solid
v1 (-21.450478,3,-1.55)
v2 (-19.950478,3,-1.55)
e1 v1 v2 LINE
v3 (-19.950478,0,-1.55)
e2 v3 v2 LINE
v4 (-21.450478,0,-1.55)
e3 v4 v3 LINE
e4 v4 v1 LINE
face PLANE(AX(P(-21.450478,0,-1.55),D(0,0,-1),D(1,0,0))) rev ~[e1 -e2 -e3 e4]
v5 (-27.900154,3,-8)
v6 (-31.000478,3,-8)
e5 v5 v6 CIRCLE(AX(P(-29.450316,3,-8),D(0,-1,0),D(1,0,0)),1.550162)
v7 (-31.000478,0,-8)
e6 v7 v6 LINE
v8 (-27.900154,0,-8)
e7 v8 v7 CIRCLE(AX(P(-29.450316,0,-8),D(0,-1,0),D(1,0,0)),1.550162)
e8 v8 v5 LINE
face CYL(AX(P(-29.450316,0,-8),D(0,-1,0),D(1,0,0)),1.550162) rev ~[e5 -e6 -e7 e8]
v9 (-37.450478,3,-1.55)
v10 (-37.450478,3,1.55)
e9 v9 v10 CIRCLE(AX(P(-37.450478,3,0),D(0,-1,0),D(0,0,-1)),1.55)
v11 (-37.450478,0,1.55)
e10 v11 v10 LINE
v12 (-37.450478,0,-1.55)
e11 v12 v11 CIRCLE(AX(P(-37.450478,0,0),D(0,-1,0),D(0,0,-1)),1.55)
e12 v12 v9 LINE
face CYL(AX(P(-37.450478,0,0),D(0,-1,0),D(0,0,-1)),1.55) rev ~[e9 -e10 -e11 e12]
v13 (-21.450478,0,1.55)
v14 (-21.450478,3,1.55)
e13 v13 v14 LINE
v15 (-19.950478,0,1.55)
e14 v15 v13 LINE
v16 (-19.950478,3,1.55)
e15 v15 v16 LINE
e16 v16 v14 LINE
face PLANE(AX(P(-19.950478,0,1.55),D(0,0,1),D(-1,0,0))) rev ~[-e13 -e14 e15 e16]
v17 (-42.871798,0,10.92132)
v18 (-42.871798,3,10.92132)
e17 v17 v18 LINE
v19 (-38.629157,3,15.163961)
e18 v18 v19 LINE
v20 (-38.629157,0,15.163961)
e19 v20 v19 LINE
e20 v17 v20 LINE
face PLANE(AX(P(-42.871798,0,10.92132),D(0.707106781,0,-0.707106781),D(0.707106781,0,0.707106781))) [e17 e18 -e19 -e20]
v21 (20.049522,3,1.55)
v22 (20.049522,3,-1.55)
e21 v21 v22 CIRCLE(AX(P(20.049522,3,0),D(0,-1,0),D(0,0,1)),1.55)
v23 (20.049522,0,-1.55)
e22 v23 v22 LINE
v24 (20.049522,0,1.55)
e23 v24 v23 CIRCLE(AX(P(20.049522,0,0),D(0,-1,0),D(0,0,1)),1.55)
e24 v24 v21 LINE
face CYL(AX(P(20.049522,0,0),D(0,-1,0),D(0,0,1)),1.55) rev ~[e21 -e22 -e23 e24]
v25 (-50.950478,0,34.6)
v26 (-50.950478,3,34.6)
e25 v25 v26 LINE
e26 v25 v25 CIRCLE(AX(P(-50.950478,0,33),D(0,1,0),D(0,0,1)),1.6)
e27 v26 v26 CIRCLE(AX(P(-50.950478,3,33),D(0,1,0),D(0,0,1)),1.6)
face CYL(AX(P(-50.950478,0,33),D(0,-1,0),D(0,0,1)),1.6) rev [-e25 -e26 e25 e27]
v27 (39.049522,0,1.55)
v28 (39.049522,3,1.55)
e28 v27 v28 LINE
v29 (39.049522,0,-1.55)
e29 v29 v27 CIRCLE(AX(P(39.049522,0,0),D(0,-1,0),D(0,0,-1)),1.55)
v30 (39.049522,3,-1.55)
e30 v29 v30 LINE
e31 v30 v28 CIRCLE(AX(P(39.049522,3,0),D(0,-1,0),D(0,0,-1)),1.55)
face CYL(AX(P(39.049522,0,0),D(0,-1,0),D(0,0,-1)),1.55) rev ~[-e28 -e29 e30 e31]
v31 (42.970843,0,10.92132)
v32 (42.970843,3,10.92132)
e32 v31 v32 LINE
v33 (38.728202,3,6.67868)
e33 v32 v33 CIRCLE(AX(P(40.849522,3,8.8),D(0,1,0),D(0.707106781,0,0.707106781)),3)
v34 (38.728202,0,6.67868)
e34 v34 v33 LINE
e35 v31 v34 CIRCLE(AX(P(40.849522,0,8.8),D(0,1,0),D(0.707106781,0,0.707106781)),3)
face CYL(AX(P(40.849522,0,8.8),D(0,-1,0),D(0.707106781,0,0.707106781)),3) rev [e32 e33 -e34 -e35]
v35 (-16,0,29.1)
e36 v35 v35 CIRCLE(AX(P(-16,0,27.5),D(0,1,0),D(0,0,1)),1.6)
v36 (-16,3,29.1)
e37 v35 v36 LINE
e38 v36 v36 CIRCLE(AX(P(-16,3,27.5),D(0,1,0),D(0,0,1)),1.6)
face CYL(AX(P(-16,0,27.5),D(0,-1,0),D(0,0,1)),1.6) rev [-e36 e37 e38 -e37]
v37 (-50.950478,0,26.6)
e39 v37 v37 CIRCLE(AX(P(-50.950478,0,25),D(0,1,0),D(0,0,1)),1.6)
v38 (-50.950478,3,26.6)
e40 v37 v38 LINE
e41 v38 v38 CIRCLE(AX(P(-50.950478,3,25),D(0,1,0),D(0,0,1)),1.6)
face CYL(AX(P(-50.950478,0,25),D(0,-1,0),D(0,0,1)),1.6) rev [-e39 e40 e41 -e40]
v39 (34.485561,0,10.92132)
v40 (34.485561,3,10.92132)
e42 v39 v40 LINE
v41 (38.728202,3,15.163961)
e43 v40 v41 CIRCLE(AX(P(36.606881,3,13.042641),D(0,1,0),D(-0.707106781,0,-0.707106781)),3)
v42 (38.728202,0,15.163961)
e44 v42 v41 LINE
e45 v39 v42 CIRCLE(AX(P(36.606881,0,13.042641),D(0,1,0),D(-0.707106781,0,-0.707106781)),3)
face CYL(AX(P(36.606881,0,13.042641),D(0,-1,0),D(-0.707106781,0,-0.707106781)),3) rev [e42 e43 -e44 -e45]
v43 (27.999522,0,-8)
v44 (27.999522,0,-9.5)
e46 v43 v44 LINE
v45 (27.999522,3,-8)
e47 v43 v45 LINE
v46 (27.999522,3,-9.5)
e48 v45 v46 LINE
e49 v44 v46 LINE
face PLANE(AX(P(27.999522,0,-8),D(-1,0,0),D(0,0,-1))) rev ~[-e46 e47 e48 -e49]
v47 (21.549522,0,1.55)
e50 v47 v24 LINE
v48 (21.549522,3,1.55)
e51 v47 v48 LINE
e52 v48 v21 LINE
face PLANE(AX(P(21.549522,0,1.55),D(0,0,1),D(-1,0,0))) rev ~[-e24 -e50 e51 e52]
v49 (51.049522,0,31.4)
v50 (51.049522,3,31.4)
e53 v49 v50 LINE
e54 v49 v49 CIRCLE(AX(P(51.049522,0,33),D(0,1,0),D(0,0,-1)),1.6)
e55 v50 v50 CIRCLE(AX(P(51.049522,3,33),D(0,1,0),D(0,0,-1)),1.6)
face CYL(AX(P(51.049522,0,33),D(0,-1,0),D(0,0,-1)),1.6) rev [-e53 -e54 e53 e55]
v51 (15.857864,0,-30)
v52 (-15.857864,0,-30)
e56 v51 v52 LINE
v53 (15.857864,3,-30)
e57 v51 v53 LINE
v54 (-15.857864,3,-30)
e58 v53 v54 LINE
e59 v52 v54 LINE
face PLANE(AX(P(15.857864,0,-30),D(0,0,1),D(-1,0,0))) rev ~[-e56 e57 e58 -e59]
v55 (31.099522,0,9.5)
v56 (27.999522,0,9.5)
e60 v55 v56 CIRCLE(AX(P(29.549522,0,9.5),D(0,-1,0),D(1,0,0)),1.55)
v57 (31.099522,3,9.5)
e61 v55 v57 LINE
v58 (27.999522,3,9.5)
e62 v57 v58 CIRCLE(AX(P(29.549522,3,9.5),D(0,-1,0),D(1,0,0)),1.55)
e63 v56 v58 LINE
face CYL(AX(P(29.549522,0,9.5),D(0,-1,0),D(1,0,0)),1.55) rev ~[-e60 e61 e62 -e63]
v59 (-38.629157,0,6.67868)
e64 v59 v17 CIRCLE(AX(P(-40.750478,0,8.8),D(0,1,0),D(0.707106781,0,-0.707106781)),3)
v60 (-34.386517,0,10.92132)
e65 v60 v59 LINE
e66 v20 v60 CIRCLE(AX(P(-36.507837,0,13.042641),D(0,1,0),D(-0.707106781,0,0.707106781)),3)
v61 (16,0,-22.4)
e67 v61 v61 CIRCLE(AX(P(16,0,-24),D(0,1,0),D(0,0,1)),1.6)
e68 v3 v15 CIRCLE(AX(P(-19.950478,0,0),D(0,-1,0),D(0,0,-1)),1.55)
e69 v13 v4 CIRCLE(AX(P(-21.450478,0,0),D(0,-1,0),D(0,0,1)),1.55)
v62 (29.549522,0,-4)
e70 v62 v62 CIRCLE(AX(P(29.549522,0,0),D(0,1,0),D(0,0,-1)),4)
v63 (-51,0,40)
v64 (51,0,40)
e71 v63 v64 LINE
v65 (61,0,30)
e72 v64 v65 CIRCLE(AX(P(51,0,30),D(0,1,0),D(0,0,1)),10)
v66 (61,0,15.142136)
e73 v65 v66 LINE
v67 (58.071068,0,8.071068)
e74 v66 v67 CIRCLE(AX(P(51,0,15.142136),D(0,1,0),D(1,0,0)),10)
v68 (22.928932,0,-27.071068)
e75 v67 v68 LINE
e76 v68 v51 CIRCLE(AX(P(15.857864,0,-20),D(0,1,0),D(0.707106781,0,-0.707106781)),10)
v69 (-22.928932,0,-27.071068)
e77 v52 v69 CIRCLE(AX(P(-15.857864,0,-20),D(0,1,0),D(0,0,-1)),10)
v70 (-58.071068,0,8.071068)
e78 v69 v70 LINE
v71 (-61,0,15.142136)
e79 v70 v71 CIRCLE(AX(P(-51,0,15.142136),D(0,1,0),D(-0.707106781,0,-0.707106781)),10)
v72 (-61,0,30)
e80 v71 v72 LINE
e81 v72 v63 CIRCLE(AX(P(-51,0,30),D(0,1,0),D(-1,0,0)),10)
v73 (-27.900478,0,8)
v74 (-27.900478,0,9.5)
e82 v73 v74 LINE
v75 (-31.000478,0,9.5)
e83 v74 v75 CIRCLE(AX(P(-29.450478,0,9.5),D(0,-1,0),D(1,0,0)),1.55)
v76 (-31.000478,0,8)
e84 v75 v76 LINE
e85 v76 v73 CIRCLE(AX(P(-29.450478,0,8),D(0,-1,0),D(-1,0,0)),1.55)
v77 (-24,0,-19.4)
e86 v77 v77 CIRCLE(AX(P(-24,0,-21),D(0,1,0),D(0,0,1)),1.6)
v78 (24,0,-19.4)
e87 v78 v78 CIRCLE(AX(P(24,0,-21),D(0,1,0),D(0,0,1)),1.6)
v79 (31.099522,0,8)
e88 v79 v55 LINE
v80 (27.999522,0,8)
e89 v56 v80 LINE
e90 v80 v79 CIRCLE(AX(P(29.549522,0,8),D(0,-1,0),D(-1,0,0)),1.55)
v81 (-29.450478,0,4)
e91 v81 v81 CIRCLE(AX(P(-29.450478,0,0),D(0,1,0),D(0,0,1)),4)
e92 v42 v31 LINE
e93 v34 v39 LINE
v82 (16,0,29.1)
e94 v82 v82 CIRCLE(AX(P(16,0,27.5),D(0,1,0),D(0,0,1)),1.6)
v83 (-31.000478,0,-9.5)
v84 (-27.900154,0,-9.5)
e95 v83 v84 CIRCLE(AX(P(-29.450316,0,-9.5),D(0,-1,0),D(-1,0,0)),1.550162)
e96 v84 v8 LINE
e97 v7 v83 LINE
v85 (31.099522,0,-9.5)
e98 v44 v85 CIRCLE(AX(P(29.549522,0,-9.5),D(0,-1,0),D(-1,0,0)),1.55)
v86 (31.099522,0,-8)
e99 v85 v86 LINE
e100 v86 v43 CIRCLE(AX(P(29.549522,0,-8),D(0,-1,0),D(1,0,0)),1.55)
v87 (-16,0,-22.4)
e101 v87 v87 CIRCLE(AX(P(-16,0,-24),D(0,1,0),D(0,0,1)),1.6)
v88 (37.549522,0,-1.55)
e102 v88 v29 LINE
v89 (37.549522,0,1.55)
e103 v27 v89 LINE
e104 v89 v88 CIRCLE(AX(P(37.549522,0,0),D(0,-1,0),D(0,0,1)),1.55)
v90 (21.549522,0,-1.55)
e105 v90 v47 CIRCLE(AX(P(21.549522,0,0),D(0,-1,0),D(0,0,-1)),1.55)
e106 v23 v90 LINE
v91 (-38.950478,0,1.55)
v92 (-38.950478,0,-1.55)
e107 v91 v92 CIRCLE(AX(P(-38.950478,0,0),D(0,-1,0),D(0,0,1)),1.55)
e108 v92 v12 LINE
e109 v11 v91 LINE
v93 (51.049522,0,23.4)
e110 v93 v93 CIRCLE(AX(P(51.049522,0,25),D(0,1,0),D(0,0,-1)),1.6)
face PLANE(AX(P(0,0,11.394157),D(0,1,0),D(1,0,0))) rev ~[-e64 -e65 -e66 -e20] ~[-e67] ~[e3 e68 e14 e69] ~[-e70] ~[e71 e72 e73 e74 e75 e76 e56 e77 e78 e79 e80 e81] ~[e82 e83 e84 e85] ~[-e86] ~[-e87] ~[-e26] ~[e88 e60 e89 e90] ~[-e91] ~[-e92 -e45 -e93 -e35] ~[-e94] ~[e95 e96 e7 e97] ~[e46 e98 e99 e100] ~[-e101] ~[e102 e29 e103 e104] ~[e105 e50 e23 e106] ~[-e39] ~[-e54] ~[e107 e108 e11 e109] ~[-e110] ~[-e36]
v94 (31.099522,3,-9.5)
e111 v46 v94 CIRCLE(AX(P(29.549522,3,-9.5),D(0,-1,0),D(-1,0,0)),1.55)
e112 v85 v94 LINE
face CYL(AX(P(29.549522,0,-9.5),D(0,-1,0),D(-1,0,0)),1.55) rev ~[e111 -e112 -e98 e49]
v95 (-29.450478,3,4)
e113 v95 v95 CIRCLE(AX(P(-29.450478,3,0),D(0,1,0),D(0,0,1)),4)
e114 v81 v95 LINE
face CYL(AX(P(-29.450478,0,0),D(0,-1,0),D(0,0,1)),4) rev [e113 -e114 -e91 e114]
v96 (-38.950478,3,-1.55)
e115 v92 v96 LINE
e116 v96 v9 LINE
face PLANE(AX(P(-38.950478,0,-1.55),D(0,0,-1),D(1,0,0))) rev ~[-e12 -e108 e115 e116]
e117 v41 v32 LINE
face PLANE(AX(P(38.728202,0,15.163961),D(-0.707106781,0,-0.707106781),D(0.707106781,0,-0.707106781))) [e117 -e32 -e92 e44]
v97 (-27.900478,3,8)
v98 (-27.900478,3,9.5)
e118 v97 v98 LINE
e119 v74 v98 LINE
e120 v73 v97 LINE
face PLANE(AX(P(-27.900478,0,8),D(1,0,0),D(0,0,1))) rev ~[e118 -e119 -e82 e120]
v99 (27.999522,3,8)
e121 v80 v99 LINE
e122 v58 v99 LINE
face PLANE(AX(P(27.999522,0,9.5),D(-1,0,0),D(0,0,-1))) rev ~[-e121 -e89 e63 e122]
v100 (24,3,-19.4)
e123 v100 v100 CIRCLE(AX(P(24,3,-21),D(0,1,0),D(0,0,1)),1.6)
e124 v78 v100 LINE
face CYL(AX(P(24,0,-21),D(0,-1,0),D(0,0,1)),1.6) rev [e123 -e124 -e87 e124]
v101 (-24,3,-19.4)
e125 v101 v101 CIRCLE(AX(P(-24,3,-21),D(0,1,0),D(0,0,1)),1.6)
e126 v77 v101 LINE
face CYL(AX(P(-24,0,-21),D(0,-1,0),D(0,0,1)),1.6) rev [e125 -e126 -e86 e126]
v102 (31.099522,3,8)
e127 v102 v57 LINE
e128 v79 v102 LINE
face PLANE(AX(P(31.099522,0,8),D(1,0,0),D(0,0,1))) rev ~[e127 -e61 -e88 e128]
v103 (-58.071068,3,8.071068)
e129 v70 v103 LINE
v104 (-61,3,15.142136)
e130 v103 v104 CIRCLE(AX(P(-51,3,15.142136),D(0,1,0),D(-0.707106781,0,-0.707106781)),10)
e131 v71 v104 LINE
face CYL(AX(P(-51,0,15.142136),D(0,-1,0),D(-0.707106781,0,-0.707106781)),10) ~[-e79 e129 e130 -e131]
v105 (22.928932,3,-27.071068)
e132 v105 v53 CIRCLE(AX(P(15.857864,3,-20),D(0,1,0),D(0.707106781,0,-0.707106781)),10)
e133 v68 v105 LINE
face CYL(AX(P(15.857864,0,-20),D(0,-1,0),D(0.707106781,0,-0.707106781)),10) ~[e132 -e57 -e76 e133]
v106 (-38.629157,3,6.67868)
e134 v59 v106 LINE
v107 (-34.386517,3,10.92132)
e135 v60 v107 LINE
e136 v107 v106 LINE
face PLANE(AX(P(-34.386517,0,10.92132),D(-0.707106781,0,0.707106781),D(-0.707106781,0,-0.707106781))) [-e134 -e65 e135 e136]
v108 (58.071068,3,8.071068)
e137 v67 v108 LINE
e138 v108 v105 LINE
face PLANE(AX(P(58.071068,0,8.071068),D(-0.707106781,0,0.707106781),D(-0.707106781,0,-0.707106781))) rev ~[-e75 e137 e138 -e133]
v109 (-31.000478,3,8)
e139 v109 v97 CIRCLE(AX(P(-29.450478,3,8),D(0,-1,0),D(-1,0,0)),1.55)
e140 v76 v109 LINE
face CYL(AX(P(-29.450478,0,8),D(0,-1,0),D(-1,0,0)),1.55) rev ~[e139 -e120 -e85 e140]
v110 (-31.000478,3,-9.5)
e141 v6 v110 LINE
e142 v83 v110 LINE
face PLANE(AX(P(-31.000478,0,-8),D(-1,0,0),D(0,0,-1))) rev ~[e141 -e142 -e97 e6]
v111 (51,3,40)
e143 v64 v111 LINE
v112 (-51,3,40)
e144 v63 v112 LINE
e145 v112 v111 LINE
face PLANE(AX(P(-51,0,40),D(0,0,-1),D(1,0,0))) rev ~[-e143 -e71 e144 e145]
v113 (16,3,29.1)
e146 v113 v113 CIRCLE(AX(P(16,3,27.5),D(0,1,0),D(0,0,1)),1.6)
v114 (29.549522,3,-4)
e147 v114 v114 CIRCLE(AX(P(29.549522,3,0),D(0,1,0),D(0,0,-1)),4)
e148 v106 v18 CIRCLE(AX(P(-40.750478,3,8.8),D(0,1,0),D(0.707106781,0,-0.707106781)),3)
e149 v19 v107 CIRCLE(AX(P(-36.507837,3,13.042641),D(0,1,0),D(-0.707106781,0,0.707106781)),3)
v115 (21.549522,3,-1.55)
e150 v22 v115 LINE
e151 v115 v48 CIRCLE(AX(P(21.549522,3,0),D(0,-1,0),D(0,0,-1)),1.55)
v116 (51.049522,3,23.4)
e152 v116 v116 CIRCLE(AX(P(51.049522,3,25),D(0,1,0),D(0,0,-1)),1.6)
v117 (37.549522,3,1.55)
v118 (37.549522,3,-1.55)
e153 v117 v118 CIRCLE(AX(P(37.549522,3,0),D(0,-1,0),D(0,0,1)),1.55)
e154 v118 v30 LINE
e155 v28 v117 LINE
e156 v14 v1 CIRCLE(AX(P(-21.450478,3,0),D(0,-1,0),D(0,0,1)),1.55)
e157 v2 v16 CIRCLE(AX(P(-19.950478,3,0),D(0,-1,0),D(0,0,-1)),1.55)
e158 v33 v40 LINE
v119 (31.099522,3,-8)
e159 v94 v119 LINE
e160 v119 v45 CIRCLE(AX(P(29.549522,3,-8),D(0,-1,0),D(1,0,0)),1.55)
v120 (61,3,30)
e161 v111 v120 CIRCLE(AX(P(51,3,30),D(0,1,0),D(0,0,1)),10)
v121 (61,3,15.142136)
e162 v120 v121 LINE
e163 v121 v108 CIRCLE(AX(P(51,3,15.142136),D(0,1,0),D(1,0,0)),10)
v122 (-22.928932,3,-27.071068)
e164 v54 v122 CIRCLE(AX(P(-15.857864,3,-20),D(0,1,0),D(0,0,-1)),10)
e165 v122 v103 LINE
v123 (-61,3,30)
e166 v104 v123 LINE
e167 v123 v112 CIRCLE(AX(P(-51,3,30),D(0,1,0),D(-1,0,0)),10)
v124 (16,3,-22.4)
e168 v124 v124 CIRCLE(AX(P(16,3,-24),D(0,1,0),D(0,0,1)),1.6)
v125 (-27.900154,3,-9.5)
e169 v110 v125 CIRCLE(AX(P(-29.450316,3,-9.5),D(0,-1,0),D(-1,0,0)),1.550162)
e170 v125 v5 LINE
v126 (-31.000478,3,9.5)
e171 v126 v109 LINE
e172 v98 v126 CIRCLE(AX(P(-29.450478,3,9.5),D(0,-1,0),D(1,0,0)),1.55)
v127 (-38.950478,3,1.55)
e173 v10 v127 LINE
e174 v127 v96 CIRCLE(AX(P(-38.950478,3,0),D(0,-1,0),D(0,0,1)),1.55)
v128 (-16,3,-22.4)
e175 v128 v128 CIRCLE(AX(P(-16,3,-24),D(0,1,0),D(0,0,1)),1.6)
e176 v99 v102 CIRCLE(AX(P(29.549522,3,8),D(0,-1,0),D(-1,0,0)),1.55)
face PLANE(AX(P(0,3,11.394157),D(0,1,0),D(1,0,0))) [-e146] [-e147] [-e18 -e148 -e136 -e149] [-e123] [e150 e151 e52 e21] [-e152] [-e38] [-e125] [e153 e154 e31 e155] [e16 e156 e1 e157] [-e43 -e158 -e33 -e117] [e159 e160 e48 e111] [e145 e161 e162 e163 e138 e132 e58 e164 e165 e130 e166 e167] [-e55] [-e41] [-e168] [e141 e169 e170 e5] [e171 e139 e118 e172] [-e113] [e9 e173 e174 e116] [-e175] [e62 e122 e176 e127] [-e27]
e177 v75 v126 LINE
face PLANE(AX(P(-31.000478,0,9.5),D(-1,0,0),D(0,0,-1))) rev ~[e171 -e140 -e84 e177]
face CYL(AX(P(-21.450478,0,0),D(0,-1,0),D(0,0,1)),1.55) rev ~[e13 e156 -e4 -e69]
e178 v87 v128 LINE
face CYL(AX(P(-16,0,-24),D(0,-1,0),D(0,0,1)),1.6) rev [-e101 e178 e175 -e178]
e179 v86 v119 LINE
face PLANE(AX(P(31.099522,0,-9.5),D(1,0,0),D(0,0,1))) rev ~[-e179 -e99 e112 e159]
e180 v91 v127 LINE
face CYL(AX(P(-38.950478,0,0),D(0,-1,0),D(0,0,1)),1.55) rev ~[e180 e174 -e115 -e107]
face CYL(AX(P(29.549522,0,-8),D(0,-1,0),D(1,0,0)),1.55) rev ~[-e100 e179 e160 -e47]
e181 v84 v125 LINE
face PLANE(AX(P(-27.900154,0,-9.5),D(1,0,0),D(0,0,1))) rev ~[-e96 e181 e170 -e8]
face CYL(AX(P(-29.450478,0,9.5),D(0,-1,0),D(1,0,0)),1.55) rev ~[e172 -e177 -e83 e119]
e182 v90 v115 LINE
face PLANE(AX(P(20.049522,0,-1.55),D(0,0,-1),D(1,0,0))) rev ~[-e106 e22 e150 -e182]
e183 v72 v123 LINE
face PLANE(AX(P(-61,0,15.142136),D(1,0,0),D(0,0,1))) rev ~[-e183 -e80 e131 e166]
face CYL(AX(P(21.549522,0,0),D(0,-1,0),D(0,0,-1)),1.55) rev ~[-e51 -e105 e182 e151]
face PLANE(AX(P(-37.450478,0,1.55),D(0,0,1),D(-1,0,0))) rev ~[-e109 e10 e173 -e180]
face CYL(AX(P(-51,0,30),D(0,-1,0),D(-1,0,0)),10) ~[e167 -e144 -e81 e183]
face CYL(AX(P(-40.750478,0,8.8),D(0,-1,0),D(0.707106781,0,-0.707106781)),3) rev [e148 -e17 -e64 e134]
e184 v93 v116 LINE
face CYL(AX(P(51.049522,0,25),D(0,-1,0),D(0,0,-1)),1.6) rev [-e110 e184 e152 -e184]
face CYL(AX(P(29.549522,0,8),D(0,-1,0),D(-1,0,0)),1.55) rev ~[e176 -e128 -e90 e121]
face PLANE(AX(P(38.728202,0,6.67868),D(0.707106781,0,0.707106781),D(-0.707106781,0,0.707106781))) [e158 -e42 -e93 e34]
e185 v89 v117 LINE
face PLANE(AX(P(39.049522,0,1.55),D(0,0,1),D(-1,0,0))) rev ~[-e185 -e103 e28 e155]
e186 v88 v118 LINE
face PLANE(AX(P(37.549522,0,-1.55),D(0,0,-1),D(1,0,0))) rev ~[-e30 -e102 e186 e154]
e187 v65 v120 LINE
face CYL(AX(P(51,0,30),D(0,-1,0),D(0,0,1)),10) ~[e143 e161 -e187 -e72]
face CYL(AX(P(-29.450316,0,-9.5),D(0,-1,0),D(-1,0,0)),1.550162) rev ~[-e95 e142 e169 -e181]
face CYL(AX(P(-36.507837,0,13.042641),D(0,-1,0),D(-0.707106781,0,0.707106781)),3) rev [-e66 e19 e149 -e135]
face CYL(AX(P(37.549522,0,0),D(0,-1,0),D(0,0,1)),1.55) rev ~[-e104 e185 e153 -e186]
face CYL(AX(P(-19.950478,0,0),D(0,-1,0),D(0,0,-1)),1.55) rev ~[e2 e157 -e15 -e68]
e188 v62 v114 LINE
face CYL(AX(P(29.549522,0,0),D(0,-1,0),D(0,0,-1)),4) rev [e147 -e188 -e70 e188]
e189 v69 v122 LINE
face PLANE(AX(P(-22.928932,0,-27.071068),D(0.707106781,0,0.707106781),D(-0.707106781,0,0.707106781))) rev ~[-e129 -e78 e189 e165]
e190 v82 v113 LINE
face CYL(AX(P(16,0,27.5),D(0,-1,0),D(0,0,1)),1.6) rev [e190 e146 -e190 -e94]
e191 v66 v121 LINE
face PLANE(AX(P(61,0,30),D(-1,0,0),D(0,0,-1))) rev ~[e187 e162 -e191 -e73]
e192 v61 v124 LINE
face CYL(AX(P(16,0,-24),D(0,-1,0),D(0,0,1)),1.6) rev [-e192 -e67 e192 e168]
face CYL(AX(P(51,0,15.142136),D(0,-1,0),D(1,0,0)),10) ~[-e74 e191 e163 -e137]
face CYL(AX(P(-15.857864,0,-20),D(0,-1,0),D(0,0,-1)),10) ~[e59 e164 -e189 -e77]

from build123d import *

# Parameters (mm, degrees)
EXTRUDE_1_DEPTH     = 3
SKETCH_2_R          = 1.6
SKETCH_2_R_2        = 4
CUT_EXTRUDE_1_DEPTH = 3


with BuildPart() as part:
    # 草图1 → 凸台-拉伸1 (new body)
    with BuildSketch(Plane(origin=(0, 0, 0), x_dir=(1, 0, 0), z_dir=(0, 1, 0))):
        with BuildLine():
            Line((0, 30), (-15.857864376, 30))
            ThreePointArc((-15.857864376, 30), (-19.6846987, 29.238795325), (-22.928932188, 27.071067812))
            Line((-22.928932188, 27.071067812), (-58.071067812, -8.071067812))
            ThreePointArc((-58.071067812, -8.071067812), (-60.238795325, -11.3153013), (-61, -15.142135624))
            Line((-61, -15.142135624), (-61, -30.000000004))
            ThreePointArc((-61, -30.000000004), (-58.071067812, -37.071067816), (-51, -40.000000004))
            Line((-51, -40.000000004), (-36, -40.000000004))
            Line((-36, -40.000000004), (36, -40.000000004))
            Line((36, -40.000000004), (51, -40.000000004))
            ThreePointArc((51, -40.000000004), (58.071067812, -37.071067816), (61, -30.000000004))
            Line((61, -30.000000004), (61, -15.142135624))
            ThreePointArc((61, -15.142135624), (60.238795325, -11.3153013), (58.071067812, -8.071067812))
            Line((58.071067812, -8.071067812), (22.928932188, 27.071067812))
            ThreePointArc((22.928932188, 27.071067812), (19.6846987, 29.238795325), (15.857864376, 30))
            Line((15.857864376, 30), (0, 30))
        make_face()
    extrude(amount=EXTRUDE_1_DEPTH)

    # 草图2 → 切除-拉伸1 (cut)
    with BuildSketch(Plane(origin=(0, 0, 0), x_dir=(1, 0, 0), z_dir=(0, 1, 0))):
        with Locations(Location((-16, 24, 0), (0, 0, 270))):
            Circle(SKETCH_2_R)
        with Locations(Location((16, 24, 0), (0, 0, 270))):
            Circle(SKETCH_2_R)
        with Locations(Location((-24, 21, 0), (0, 0, 270))):
            Circle(SKETCH_2_R)
        with Locations(Location((24, 21, 0), (0, 0, 270))):
            Circle(SKETCH_2_R)
        with Locations(Location((-29.450477816, 0, 0), (0, 0, 270))):
            Circle(SKETCH_2_R_2)
        with Locations(Location((29.549522184, 0, 0), (0, 0, 90))):
            Circle(SKETCH_2_R_2)
        with Locations(Location((-50.950477816, -25, 0), (0, 0, 270))):
            Circle(SKETCH_2_R)
        with Locations(Location((-50.950477816, -33, 0), (0, 0, 270))):
            Circle(SKETCH_2_R)
        with Locations(Location((51.049522184, -33, 0), (0, 0, 90))):
            Circle(SKETCH_2_R)
        with Locations(Location((51.049522184, -25, 0), (0, 0, 90))):
            Circle(SKETCH_2_R)
        with Locations(Location((-16, -27.5, 0), (0, 0, 270))):
            Circle(SKETCH_2_R)
        with Locations(Location((16, -27.5, 0), (0, 0, 270))):
            Circle(SKETCH_2_R)
        with BuildLine():
            Line((-37.450477816, -1.55), (-38.950477816, -1.55))
            ThreePointArc((-38.950477816, -1.55), (-40.500477816, 0), (-38.950477816, 1.55))
            Line((-38.950477816, 1.55), (-37.450477816, 1.55))
            ThreePointArc((-37.450477816, 1.55), (-35.900477816, 0), (-37.450477816, -1.55))
        make_face()
        with BuildLine():
            Line((38.728201841, -6.678679656), (34.485561154, -10.921320344))
            ThreePointArc((34.485561154, -10.921320344), (34.485561154, -15.163961031), (38.728201841, -15.163961031))
            Line((38.728201841, -15.163961031), (42.970842528, -10.921320344))
            ThreePointArc((42.970842528, -10.921320344), (42.970842528, -6.678679656), (38.728201841, -6.678679656))
        make_face()
        with BuildLine():
            Line((-31.000477816, 8), (-31.000477816, 9.5))
            ThreePointArc((-31.000477816, 9.5), (-29.450315952, 11.050161864), (-27.900154088, 9.5))
            Line((-27.900154088, 9.5), (-27.900154088, 8))
            ThreePointArc((-27.900154088, 8), (-29.450315952, 6.449838136), (-31.000477816, 8))
        make_face()
        with BuildLine():
            Line((-27.900477816, -8), (-27.900477816, -9.5))
            ThreePointArc((-27.900477816, -9.5), (-29.450477816, -11.05), (-31.000477816, -9.5))
            Line((-31.000477816, -9.5), (-31.000477816, -8))
            ThreePointArc((-31.000477816, -8), (-29.450477816, -6.45), (-27.900477816, -8))
        make_face()
        with BuildLine():
            Line((-21.450477816, 1.55), (-19.950477816, 1.55))
            ThreePointArc((-19.950477816, 1.55), (-18.400477816, 0), (-19.950477816, -1.55))
            Line((-19.950477816, -1.55), (-21.450477816, -1.55))
            ThreePointArc((-21.450477816, -1.55), (-23.000477816, 0), (-21.450477816, 1.55))
        make_face()
        with BuildLine():
            Line((21.549522184, -1.55), (20.049522184, -1.55))
            ThreePointArc((20.049522184, -1.55), (18.499522184, 0), (20.049522184, 1.55))
            Line((20.049522184, 1.55), (21.549522184, 1.55))
            ThreePointArc((21.549522184, 1.55), (23.099522184, 0), (21.549522184, -1.55))
        make_face()
        with BuildLine():
            Line((-42.871798159, -10.921320344), (-38.629157472, -15.163961031))
            ThreePointArc((-38.629157472, -15.163961031), (-34.386516785, -15.163961031), (-34.386516785, -10.921320344))
            Line((-34.386516785, -10.921320344), (-38.629157472, -6.678679656))
            ThreePointArc((-38.629157472, -6.678679656), (-42.871798159, -6.678679656), (-42.871798159, -10.921320344))
        make_face()
        with BuildLine():
            Line((31.099522184, -8), (31.099522184, -9.5))
            ThreePointArc((31.099522184, -9.5), (29.549522184, -11.05), (27.999522184, -9.5))
            Line((27.999522184, -9.5), (27.999522184, -8))
            ThreePointArc((27.999522184, -8), (29.549522184, -6.45), (31.099522184, -8))
        make_face()
        with BuildLine():
            Line((27.999522184, 8), (27.999522184, 9.5))
            ThreePointArc((27.999522184, 9.5), (29.549522184, 11.05), (31.099522184, 9.5))
            Line((31.099522184, 9.5), (31.099522184, 8))
            ThreePointArc((31.099522184, 8), (29.549522184, 6.45), (27.999522184, 8))
        make_face()
        with BuildLine():
            Line((37.549522184, 1.55), (39.049522184, 1.55))
            ThreePointArc((39.049522184, 1.55), (40.599522184, 0), (39.049522184, -1.55))
            Line((39.049522184, -1.55), (37.549522184, -1.55))
            ThreePointArc((37.549522184, -1.55), (35.999522184, 0), (37.549522184, 1.55))
        make_face()
    extrude(amount=CUT_EXTRUDE_1_DEPTH, mode=Mode.SUBTRACT)


solid = part.part
